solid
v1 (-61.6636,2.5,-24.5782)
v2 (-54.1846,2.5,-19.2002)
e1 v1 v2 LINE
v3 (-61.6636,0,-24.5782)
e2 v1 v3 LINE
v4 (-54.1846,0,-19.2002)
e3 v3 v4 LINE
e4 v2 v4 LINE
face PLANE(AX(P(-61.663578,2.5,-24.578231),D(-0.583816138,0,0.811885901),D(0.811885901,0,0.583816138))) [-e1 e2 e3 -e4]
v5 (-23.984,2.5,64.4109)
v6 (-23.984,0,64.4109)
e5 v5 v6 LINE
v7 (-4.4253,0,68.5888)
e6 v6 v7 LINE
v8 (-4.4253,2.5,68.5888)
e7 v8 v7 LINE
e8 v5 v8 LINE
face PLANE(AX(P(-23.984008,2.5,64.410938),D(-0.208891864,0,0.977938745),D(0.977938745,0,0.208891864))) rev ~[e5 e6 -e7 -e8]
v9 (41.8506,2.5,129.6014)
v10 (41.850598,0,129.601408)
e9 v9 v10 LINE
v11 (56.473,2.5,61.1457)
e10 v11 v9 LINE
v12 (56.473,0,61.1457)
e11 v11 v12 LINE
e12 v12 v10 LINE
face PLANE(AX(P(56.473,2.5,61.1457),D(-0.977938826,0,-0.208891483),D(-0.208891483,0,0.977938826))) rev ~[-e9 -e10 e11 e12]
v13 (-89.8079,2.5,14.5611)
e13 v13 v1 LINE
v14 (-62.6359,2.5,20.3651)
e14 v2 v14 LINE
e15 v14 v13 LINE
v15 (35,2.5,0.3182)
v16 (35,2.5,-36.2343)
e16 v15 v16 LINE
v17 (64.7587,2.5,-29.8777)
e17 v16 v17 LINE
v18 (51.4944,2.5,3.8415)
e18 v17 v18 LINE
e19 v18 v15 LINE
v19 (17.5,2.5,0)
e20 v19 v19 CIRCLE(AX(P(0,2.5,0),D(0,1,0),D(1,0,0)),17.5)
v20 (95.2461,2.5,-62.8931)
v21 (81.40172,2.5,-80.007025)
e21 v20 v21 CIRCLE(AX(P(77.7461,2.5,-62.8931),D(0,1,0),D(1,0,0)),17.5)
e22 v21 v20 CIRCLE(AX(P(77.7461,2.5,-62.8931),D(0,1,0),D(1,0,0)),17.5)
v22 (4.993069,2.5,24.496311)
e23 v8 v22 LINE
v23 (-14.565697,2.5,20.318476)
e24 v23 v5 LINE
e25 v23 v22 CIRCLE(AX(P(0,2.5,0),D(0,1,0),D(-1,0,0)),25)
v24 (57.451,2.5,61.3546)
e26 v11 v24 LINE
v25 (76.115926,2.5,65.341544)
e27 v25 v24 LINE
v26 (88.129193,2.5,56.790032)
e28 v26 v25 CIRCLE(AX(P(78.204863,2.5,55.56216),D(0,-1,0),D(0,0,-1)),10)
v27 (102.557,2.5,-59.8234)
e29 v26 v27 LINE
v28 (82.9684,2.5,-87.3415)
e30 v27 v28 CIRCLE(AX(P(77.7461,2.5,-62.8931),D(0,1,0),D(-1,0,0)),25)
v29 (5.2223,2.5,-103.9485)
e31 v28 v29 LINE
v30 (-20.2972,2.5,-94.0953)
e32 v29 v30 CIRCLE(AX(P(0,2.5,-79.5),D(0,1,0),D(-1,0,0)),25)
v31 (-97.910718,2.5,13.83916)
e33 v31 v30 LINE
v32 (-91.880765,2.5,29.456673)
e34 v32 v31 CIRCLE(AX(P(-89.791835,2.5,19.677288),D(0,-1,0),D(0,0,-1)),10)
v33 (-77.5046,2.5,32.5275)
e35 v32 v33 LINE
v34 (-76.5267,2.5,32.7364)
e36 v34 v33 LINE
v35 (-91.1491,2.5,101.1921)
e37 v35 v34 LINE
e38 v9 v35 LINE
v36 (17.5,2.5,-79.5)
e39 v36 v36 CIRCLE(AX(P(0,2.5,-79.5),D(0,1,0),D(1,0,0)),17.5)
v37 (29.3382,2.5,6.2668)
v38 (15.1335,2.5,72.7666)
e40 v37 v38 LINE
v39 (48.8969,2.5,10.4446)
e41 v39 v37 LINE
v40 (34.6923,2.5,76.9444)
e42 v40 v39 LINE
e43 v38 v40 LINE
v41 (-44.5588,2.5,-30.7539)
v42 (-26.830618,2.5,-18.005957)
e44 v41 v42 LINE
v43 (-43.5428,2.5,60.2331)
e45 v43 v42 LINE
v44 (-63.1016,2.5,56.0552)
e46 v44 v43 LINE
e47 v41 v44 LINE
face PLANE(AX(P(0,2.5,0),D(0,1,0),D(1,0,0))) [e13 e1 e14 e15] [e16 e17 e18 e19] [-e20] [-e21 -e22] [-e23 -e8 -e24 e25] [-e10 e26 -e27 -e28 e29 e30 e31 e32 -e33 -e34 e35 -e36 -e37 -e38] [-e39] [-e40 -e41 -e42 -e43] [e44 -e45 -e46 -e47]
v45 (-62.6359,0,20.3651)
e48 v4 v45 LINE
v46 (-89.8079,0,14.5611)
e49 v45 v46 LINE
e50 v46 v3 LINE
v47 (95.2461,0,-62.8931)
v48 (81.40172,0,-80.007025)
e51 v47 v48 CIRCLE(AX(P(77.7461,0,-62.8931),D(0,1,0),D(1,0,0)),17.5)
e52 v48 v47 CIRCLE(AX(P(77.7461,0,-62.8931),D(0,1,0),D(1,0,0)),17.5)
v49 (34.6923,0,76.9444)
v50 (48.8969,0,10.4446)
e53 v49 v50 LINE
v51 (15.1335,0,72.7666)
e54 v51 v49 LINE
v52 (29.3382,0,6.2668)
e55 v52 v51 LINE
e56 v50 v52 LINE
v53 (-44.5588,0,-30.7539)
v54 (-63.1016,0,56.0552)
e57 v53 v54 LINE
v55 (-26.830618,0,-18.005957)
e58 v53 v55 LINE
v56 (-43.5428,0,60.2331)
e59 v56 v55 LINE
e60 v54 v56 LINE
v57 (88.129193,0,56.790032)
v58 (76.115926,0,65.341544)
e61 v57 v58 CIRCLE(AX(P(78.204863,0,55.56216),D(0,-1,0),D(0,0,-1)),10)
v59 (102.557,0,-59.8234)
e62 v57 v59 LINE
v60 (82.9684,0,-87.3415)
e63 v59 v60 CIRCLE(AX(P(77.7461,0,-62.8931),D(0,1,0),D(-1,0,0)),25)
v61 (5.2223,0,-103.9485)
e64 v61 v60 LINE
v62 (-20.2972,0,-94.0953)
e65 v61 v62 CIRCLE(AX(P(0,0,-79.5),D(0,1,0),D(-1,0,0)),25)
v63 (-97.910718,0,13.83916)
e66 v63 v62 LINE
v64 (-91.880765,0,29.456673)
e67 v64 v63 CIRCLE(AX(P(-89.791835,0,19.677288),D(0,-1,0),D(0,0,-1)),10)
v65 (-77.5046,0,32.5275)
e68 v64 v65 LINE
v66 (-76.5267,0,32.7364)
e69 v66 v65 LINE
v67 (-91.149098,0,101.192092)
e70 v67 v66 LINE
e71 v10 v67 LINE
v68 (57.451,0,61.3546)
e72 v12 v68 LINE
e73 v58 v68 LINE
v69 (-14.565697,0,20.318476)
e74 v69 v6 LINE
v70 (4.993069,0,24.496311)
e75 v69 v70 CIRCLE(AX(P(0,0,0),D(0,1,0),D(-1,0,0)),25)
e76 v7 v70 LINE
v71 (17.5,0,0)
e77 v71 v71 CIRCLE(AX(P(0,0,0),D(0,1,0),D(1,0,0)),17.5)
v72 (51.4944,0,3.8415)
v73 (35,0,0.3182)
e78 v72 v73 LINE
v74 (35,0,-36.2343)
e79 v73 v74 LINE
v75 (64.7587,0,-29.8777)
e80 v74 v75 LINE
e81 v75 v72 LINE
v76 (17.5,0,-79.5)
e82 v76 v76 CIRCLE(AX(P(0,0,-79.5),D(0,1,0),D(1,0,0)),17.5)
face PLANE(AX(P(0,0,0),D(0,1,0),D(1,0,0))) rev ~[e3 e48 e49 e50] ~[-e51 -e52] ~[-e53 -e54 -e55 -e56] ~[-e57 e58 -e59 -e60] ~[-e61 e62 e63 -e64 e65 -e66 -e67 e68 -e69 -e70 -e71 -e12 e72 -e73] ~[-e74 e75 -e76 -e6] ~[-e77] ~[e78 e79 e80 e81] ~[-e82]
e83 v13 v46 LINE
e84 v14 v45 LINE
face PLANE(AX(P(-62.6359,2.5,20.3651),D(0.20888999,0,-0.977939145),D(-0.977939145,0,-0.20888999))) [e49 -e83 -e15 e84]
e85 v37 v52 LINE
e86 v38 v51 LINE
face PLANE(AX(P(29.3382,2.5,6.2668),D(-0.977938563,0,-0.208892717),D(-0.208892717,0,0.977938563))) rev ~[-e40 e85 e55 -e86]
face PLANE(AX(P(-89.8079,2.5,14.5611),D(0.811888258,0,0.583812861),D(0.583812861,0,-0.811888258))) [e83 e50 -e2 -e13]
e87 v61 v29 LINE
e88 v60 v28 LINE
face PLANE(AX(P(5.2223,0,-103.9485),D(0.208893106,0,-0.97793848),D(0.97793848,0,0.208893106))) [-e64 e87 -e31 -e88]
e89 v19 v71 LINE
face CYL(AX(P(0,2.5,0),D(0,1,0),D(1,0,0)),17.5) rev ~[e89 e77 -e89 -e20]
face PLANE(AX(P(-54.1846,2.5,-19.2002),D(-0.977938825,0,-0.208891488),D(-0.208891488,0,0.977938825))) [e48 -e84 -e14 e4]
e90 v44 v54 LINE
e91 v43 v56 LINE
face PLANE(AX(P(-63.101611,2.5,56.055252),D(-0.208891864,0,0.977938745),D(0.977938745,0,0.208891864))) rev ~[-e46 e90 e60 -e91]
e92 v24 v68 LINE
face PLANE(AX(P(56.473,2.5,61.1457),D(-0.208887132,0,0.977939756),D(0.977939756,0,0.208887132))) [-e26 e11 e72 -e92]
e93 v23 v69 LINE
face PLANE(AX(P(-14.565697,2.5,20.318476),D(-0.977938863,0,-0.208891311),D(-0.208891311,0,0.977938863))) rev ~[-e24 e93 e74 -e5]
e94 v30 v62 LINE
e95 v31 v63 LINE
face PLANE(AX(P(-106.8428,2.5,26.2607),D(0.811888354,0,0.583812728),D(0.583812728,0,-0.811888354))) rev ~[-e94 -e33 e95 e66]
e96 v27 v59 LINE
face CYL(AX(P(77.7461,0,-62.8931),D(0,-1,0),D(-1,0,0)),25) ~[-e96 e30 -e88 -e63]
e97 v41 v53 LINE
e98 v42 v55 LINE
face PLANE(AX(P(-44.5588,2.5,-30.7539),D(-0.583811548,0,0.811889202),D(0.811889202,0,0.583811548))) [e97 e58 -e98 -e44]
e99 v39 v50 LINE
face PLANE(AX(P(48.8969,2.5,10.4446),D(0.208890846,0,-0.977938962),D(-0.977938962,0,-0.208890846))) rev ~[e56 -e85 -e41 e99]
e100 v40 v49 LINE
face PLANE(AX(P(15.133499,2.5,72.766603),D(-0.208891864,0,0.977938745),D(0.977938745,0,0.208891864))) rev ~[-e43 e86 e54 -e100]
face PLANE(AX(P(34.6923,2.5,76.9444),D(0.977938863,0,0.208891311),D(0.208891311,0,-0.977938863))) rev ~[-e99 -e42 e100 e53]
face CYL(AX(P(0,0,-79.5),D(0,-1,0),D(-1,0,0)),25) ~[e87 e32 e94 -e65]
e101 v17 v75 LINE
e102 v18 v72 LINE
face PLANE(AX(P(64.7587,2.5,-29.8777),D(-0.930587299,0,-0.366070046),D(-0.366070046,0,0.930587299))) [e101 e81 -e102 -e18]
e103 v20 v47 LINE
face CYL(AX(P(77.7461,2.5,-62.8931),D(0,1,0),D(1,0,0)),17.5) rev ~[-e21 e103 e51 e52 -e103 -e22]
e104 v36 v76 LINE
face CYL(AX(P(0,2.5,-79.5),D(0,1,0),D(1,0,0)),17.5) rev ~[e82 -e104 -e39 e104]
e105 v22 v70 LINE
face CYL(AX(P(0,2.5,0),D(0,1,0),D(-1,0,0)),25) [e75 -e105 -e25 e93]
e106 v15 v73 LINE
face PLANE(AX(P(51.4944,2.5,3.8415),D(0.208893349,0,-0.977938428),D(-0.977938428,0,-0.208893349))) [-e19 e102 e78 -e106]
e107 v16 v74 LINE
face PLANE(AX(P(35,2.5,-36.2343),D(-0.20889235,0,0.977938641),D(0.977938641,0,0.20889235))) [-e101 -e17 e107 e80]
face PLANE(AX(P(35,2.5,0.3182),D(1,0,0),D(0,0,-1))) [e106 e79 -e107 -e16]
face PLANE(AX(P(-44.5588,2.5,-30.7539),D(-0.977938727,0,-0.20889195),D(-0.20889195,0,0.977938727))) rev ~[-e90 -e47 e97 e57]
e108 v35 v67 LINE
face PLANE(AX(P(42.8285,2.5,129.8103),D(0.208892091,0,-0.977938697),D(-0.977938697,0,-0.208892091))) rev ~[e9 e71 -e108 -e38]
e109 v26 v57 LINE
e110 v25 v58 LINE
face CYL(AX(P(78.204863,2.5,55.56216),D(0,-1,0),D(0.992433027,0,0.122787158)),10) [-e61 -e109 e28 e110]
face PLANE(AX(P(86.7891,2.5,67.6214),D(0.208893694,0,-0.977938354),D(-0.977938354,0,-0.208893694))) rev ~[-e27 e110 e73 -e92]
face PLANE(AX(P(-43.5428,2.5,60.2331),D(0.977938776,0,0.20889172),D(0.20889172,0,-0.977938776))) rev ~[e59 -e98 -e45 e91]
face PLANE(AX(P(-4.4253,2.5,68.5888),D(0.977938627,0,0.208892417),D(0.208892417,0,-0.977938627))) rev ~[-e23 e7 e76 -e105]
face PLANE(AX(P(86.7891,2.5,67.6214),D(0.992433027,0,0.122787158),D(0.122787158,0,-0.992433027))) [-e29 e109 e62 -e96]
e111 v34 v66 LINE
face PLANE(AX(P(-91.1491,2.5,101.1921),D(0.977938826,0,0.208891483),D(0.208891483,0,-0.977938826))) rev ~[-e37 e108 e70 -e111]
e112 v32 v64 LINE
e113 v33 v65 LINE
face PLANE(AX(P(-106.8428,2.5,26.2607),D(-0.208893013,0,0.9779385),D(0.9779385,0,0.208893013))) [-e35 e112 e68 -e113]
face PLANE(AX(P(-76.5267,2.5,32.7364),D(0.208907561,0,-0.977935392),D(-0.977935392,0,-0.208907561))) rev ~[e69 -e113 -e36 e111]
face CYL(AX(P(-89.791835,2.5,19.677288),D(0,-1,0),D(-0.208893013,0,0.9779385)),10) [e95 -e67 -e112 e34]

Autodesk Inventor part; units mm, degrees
ref_plane "YZ Plane" through (0, 0, 0) normal (1, 0, 0) x (0, 1, 0)
ref_plane "XZ Plane" through (0, 0, 0) normal (0, 1, 0) x (-1, 0, 0)
ref_plane "XY Plane" through (0, 0, 0) normal (0, 0, 1) x (1, 0, 0)
sketch "スケッチ1" plane through (0, 0, 0) normal (0, 1, 0) x (-1, 0, 0)
  line L0 (25, 0) -> (-25, 0)
  line L1 (-25, 0) -> (-25, -104.5)
  line L2 (-25, -104.5) -> (25, -104.5) construction
  line L3 (25, -104.5) -> (25, 0)
  circle A0 centre (0, 0) radius 25
  circle A1 centre (0, 0) radius 57 construction
  circle A2 centre (0, -79.5) radius 22.5 construction
  circle A3 centre (0, 0) radius 75 construction
  circle A4 centre (0, -79.5) radius 10.75
  circle A5 centre (0, 0) radius 10.75
  circle A6 centre (-77.7461, -62.8931) radius 25
  circle A7 centre (-77.7461, -62.8931) radius 10.75
  circle A8 centre (0, -79.5) radius 25
  line L4 (-5.2223, -103.9485) -> (-82.9684, -87.3415)
  line L5 (-72.5238, -38.4446) -> (5.2223, -55.0515)
  line L6 (-77.7461, -62.8931) -> (-82.9684, -87.3415)
  point P0 (25, -79.5)
  point P1 (-25, -48.5959)
  dimension "d0" = 114
  dimension "d1" = 45
  dimension "d2" = 150
  dimension "d4" = 21.5
  dimension "d5" = 50
  dimension "d25" = 79.5
extrude "押し出し1" add sketch "スケッチ1" along normal blind 2.5 contours A0 L0 A5 | L0 A5 A0 | L3 A8 L5 L1 A0 | A8 | A8 L1 L5 | L4 L1 A8 | L1 L4 A6 L5 | A6
sketch "スケッチ4" plane through (0, 2.5, 0) normal (0, 1, 0) x (1, 0, 0)
  line L0 (-1, 90.2034) -> (1, 90.2034)
  line L1 (1, 90.2034) -> (1, 96.5)
  line L2 (1, 96.5) -> (-1, 96.5)
  line L3 (-1, 96.5) -> (-1, 90.2034)
  arc A0 (-25, 0) -> (25, 0) centre (0, 0) ccw projected
  line L4 (25, 0) -> (25, 48.5959) projected
  line L5 (25, 48.5959) -> (72.5238, 38.4446) projected
  arc A1 (72.5238, 38.4446) -> (82.9684, 87.3415) centre (77.7461, 62.8931) ccw projected
  line L6 (82.9684, 87.3415) -> (5.2223, 103.9485) projected
  arc A2 (5.2223, 103.9485) -> (-25, 79.5) centre (0, 79.5) ccw projected
  line L7 (-25, 79.5) -> (-25, 0) projected
  circle A3 centre (0, 0) radius 10.75 projected
  circle A4 centre (77.7461, 62.8931) radius 10.75 projected
  circle A5 centre (0, 79.5) radius 10.75 projected
  circle A6 centre (0, 79.5) radius 10.75 projected
  line L8 (-16.9706, -1) -> (16.9706, -1)
  line L9 (16.9706, -1) -> (16.9706, 1)
  line L10 (16.9706, 1) -> (-16.9706, 1)
  line L11 (-16.9706, 1) -> (-16.9706, -1)
  line L12 (-1, -16.9706) -> (1, -16.9706)
  line L13 (1, -16.9706) -> (1, 16.9706)
  line L14 (1, 16.9706) -> (-1, 16.9706)
  line L15 (-1, 16.9706) -> (-1, -16.9706)
  circle A7 centre (0, 0) radius 17
  point P0 (0, 96.5)
  point P1 (-16.9706, 0)
  point P2 (0, 16.9706)
  point P3 (-1, -10.7034)
  point P4 (1, -10.7034)
  point P5 (10.7034, 1)
  point P6 (10.7034, -1)
  point P7 (-1, 10.7034)
  point P8 (1, 10.7034)
  point P9 (-10.7034, -1)
  point P10 (-10.7034, 1)
  dimension "d26" = 17
  dimension "d27" = 2
  dimension "d30" = 34
extrude "押し出し4" cut sketch "スケッチ4" against normal through all contours A5 L0 | L3 L2 L1 A5 | A3 L10 L9 L8 | A3 L15 L14 L13 | L13 L12 L15 A3 | A3 L8 L11 L10 picked at (-0.1113, 90.2172)
sketch "スケッチ5" plane through (0, 2.5, 0) normal (0, 1, 0) x (1, 0, 0)
  circle A0 centre (0, 0) radius 17.5
  circle A1 centre (0, 79.5) radius 17.5
  circle A2 centre (77.7461, 62.8931) radius 17.5
  arc A3 (-1, 90.2034) -> (1, 90.2034) centre (0, 79.5) ccw projected
  circle A4 centre (77.7461, 62.8931) radius 10.75 projected
  dimension "d31" = 35
  dimension "d32" = 35
  dimension "d33" = 35
extrude "押し出し5" cut sketch "スケッチ5" against normal through all contours A0 | A1 | A2 | A4
sketch "スケッチ7" plane through (0, 2.5, 0) normal (0, 1, 0) x (1, 0, 0)
  line L0 (62.2228, 90.7503) -> (63.2008, 90.5415) projected
  line L1 (62.7118, 90.6459) -> (67.0985, 111.1826)
  line L2 (9.4001, 123.5072) -> (87.1463, 106.9003) projected
  circle A0 centre (50.445, 105.0256) radius 1.75
  circle A1 centre (21.1068, 111.2923) radius 1.75
  point P0 (0, 0)
  dimension "d39" = 9.5
  dimension "d40" = 3.5
  dimension "d41" = 15
  dimension "d42" = 45
  dimension "d43" = 9.5
extrude "押し出し7" cut sketch "スケッチ7" against normal through all
sketch "スケッチ8" plane through (0, 2.5, 0) normal (0, 1, 0) x (1, 0, 0)
  line L0 (15.7233, -19.4365) -> (93.4694, 43.4566)
  arc A0 (-25, 0) -> (25, 0) centre (0, 0) ccw projected
  arc A1 (72.5238, 38.4446) -> (82.9684, 87.3415) centre (77.7461, 62.8931) ccw projected
  line L1 (25, 0) -> (25, 42.4151) projected
  line L2 (25, 0) -> (25, 48.5959) projected
  line L3 (25, 48.5959) -> (72.5238, 38.4446) projected
extrude "押し出し8" add sketch "スケッチ8" against normal up to surface (2.5 mm away)
sketch "スケッチ11" plane through (0, 2.5, 0) normal (0, 1, 0) x (1, 0, 0)
  line L0 (57.451, -61.3546) -> (47.0063, -110.2515) projected
  line L1 (86.7891, -67.6214) -> (57.451, -61.3546) projected
  line L2 (57.5442, -204.5328) -> (86.7891, -67.6214) projected
  line L3 (42.8751, -201.3994) -> (57.5442, -204.5328) projected
  line L4 (58.542, -128.054) -> (42.8751, -201.3994) projected
  arc A0 (58.542, -128.054) -> (47.0063, -110.2515) centre (43.873, -124.9206) ccw projected
  arc A1 (-87.9492, -81.4244) -> (-105.7517, -92.9601) centre (-91.0826, -96.0935) ccw projected
  line L5 (-105.7517, -92.9601) -> (-121.4186, -166.3055) projected
  line L6 (-121.4186, -166.3055) -> (-136.0876, -163.1722) projected
  line L7 (-136.0876, -163.1722) -> (-106.8428, -26.2607) projected
  line L8 (-106.8428, -26.2607) -> (-77.5046, -32.5275) projected
  line L9 (-77.5046, -32.5275) -> (-87.9492, -81.4244) projected
  line L10 (-117.2874, -75.1577) -> (76.3445, -116.5183) projected
  line L11 (-111.0206, -45.8195) -> (-117.2874, -75.1577) projected
  line L12 (-81.6824, -52.0863) -> (-111.0206, -45.8195) projected
  line L13 (-84.8158, -66.7554) -> (-81.6824, -52.0863) projected
  line L14 (50.1397, -95.5825) -> (-84.8158, -66.7554) projected
  line L15 (53.2731, -80.9134) -> (50.1397, -95.5825) projected
  line L16 (82.6113, -87.1801) -> (53.2731, -80.9134) projected
  line L17 (76.3445, -116.5183) -> (82.6113, -87.1801) projected
  line L18 (-99.6213, -36.495) -> (-103.0441, -35.7639) projected
  line L19 (-103.0441, -35.7639) -> (-103.6708, -38.6977) projected
  line L20 (-103.6708, -38.6977) -> (-100.248, -39.4288) projected
  line L21 (-100.248, -39.4288) -> (-100.9791, -42.8516) projected
  line L22 (-100.9791, -42.8516) -> (-98.0453, -43.4783) projected
  line L23 (-98.0453, -43.4783) -> (-97.3142, -40.0555) projected
  line L24 (-97.3142, -40.0555) -> (-93.8914, -40.7866) projected
  line L25 (-93.8914, -40.7866) -> (-93.2647, -37.8528) projected
  line L26 (-93.2647, -37.8528) -> (-96.6875, -37.1217) projected
  line L27 (-96.6875, -37.1217) -> (-95.9564, -33.6989) projected
  line L28 (-95.9564, -33.6989) -> (-98.8902, -33.0722) projected
  line L29 (-98.8902, -33.0722) -> (-99.6213, -36.495) projected
  line L30 (69.0332, -75.5881) -> (72.456, -76.3192) projected
  line L31 (72.456, -76.3192) -> (71.7249, -79.742) projected
  line L32 (71.7249, -79.742) -> (74.6587, -80.3686) projected
  line L33 (74.6587, -80.3686) -> (75.3898, -76.9459) projected
  line L34 (75.3898, -76.9459) -> (78.8126, -77.677) projected
  line L35 (78.8126, -77.677) -> (79.4393, -74.7432) projected
  line L36 (79.4393, -74.7432) -> (76.0165, -74.012) projected
  line L37 (76.0165, -74.012) -> (76.7476, -70.5893) projected
  line L38 (76.7476, -70.5893) -> (73.8138, -69.9626) projected
  line L39 (73.8138, -69.9626) -> (73.0827, -73.3854) projected
  line L40 (73.0827, -73.3854) -> (69.6599, -72.6542) projected
  line L41 (69.6599, -72.6542) -> (69.0332, -75.5881) projected
  line L42 (-106.8428, -26.2607) -> (-111.0206, -45.8195) projected
  line L43 (86.7891, -67.6214) -> (-106.8428, -26.2607) projected
  line L44 (82.6113, -87.1801) -> (86.7891, -67.6214) projected
  line L45 (-111.0206, -45.8195) -> (82.6113, -87.1801) projected
  line L46 (86.7891, -67.6214) -> (102.557, 59.8234)
  arc A2 (93.4694, 43.4566) -> (82.9684, 87.3415) centre (77.7461, 62.8931) ccw projected
  line L47 (-106.8428, -26.2607) -> (-20.2972, 94.0953)
  arc A3 (5.2223, 103.9485) -> (-25, 79.5) centre (0, 79.5) ccw projected
  line L48 (-87.9492, -81.4244) -> (47.0063, -110.2515)
  line L49 (47.0063, -110.2515) -> (42.8285, -129.8103)
  line L50 (42.8285, -129.8103) -> (-92.127, -100.9832)
  line L51 (-92.127, -100.9832) -> (-87.9492, -81.4244)
  circle A4 centre (0, 0) radius 17.5 projected
  circle A5 centre (0, 79.5) radius 17.5 projected
  circle A6 centre (77.7461, 62.8931) radius 17.5 projected
  arc A7 (-25, 0) -> (15.7233, -19.4365) centre (0, 0) ccw projected
  line L52 (-25, 79.5) -> (-25, 0) projected
  arc A8 (5.2223, 103.9485) -> (-25, 79.5) centre (0, 79.5) ccw projected
  line L53 (82.9684, 87.3415) -> (5.2223, 103.9485) projected
  arc A9 (93.4694, 43.4566) -> (82.9684, 87.3415) centre (77.7461, 62.8931) ccw projected
  line L54 (93.4694, 43.4566) -> (15.7233, -19.4365) projected
  point P0 (-25, 79.5)
  dimension "d60" = 20
extrude "押し出し11" add sketch "スケッチ11" against normal up to surface (2.5 mm away) contours L43 L8 L47 A3 L52 A7 L54 A2 L46 L1 | L0 L45 L9 L43 | L0 L14 L9 L45 | L0 L10 L9 L14 | L49 L50 L51 L10
sketch "スケッチ12" plane through (0, 2.5, 0) normal (0, 1, 0) x (1, 0, 0)
  circle A0 centre (0, 0) radius 17.5 projected
  circle A1 centre (0, 79.5) radius 17.5 projected
  circle A2 centre (77.7461, 62.8931) radius 17.5 projected
  line L0 (-20.2972, 94.0953) -> (-106.8428, -26.2607) projected
  line L1 (-106.8428, -26.2607) -> (-77.5046, -32.5275) projected
  line L2 (-77.5046, -32.5275) -> (-92.127, -100.9832) projected
  line L3 (-92.127, -100.9832) -> (42.8285, -129.8103) projected
  line L4 (42.8285, -129.8103) -> (57.451, -61.3546) projected
  line L5 (57.451, -61.3546) -> (86.7891, -67.6214) projected
  line L6 (86.7891, -67.6214) -> (102.557, 59.8234) projected
  arc A3 (102.557, 59.8234) -> (82.9684, 87.3415) centre (77.7461, 62.8931) ccw projected
  line L7 (82.9684, 87.3415) -> (5.2223, 103.9485) projected
  arc A4 (5.2223, 103.9485) -> (-20.2972, 94.0953) centre (0, 79.5) ccw projected
  line L8 (-91.1491, -101.1921) -> (-76.5267, -32.7364)
  line L9 (-76.5267, -32.7364) -> (56.473, -61.1457)
  line L10 (56.473, -61.1457) -> (41.8506, -129.6014)
  line L11 (41.8506, -129.6014) -> (-91.1491, -101.1921)
  line L12 (-92.127, -100.9832) -> (42.8285, -129.8103) projected
  line L13 (-76.5267, -32.7364) -> (-77.5046, -32.5275)
  line L14 (56.473, -61.1457) -> (57.451, -61.3546)
  point P0 (-43.3372, -30.9427)
  dimension "d63" = 1
  dimension "d64" = 1
extrude "押し出し12" cut sketch "スケッチ12" against normal through all contours A0 | L13 L8 L3 L2 | L14 L4 L3 L10
sketch "スケッチ13" plane through (0, 2.5, 0) normal (0, 1, 0) x (1, 0, 0)
  arc A0 (-25, 0) -> (25, 0) centre (0, 0) ccw projected
  line L0 (25, 0) -> (25, 42.4151) projected
  arc A1 (31.0445, 47.3048) -> (25, 42.4151) centre (30, 42.4151) ccw projected
  line L1 (31.0445, 47.3048) -> (72.5238, 38.4446) projected
  arc A2 (72.5238, 38.4446) -> (82.9684, 87.3415) centre (77.7461, 62.8931) ccw projected
  line L2 (82.9684, 87.3415) -> (5.2223, 103.9485) projected
  arc A3 (5.2223, 103.9485) -> (-25, 79.5) centre (0, 79.5) ccw projected
  line L3 (-25, 79.5) -> (-25, 0) projected
  line L4 (-1, 90.2034) -> (-1, 96.5) projected
  line L5 (-1, 96.5) -> (1, 96.5) projected
  line L6 (1, 96.5) -> (1, 90.2034) projected
  arc A4 (10.7034, 80.5) -> (1, 90.2034) centre (0, 79.5) ccw projected
  line L7 (10.7034, 80.5) -> (16.9706, 80.5) projected
  line L8 (16.9706, 80.5) -> (16.9706, 78.5) projected
  line L9 (16.9706, 78.5) -> (10.7034, 78.5) projected
  arc A5 (-10.7034, 78.5) -> (10.7034, 78.5) centre (0, 79.5) ccw projected
  line L10 (-10.7034, 78.5) -> (-16.9706, 78.5) projected
  line L11 (-16.9706, 78.5) -> (-16.9706, 80.5) projected
  line L12 (-16.9706, 80.5) -> (-10.7034, 80.5) projected
  arc A6 (-1, 90.2034) -> (-10.7034, 80.5) centre (0, 79.5) ccw projected
  line L13 (60.7756, 63.8931) -> (67.0427, 63.8931) projected
  arc A7 (76.7461, 73.5965) -> (67.0427, 63.8931) centre (77.7461, 62.8931) ccw projected
  line L14 (76.7461, 73.5965) -> (76.7461, 79.8636) projected
  line L15 (76.7461, 79.8636) -> (78.7461, 79.8636) projected
  line L16 (78.7461, 79.8636) -> (78.7461, 73.5965) projected
  arc A8 (88.4495, 63.8931) -> (78.7461, 73.5965) centre (77.7461, 62.8931) ccw projected
  line L17 (88.4495, 63.8931) -> (94.7167, 63.8931) projected
  line L18 (94.7167, 63.8931) -> (94.7167, 61.8931) projected
  line L19 (94.7167, 61.8931) -> (88.4495, 61.8931) projected
  arc A9 (78.7461, 52.1897) -> (88.4495, 61.8931) centre (77.7461, 62.8931) ccw projected
  line L20 (78.7461, 52.1897) -> (78.7461, 45.9225) projected
  line L21 (78.7461, 45.9225) -> (76.7461, 45.9225) projected
  line L22 (76.7461, 45.9225) -> (76.7461, 52.1897) projected
  arc A10 (67.0427, 61.8931) -> (76.7461, 52.1897) centre (77.7461, 62.8931) ccw projected
  line L23 (67.0427, 61.8931) -> (60.7756, 61.8931) projected
  line L24 (60.7756, 61.8931) -> (60.7756, 63.8931) projected
  line L25 (-16.9706, 1) -> (-10.7034, 1) projected
  arc A11 (-1, 10.7034) -> (-10.7034, 1) centre (0, 0) ccw projected
  line L26 (-1, 10.7034) -> (-1, 16.9706) projected
  line L27 (-1, 16.9706) -> (1, 16.9706) projected
  line L28 (1, 16.9706) -> (1, 10.7034) projected
  arc A12 (10.7034, 1) -> (1, 10.7034) centre (0, 0) ccw projected
  line L29 (10.7034, 1) -> (16.9706, 1) projected
  line L30 (16.9706, 1) -> (16.9706, -1) projected
  line L31 (16.9706, -1) -> (10.7034, -1) projected
  arc A13 (1, -10.7034) -> (10.7034, -1) centre (0, 0) ccw projected
  line L32 (1, -10.7034) -> (1, -16.9706) projected
  line L33 (1, -16.9706) -> (-1, -16.9706) projected
  line L34 (-1, -16.9706) -> (-1, -10.7034) projected
  arc A14 (-10.7034, -1) -> (-1, -10.7034) centre (0, 0) ccw projected
  line L35 (-10.7034, -1) -> (-16.9706, -1) projected
  line L36 (-16.9706, -1) -> (-16.9706, 1) projected
  point P0 (0, 0)
sketch "スケッチ14" plane through (0, 2.5, 0) normal (0, 1, 0) x (1, 0, 0)
  line L0 (-84.901, -43.2183) -> (-86.5721, -51.0418) construction
  line L1 (-86.5721, -51.0418) -> (58.1628, -81.9578) construction
  line L2 (58.1628, -81.9578) -> (59.8339, -74.1343) construction
  line L3 (59.8339, -74.1343) -> (-84.901, -43.2183) construction
  line L4 (50.1397, -95.5825) -> (-84.8158, -66.7554) construction
  line L5 (-83.8379, -66.9643) -> (-80.7045, -52.2952)
  line L6 (-80.7045, -52.2952) -> (52.2952, -80.7045)
  line L7 (52.2952, -80.7045) -> (49.1618, -95.3736)
  line L8 (49.1618, -95.3736) -> (-83.8379, -66.9643)
  line L9 (-76.5267, -32.7364) -> (-91.1491, -101.1921) projected
  line L10 (41.8506, -129.6014) -> (56.473, -61.1457) projected
  line L11 (-63.1016, -56.0552) -> (-43.5428, -60.2331)
  line L12 (-43.5428, -60.2331) -> (-25, 26.5761)
  line L13 (-25, 26.5761) -> (-44.5588, 30.7539)
  line L14 (-44.5588, 30.7539) -> (-63.1016, -56.0552)
  line L15 (-23.984, -64.4109) -> (-4.4253, -68.5888)
  line L16 (-4.4253, -68.5888) -> (9.7794, -2.0889)
  line L17 (9.7794, -2.0889) -> (-9.7794, 2.0889)
  line L18 (-9.7794, 2.0889) -> (-23.984, -64.4109)
  line L19 (15.1335, -72.7666) -> (34.6923, -76.9444)
  line L20 (34.6923, -76.9444) -> (48.8969, -10.4446)
  line L21 (48.8969, -10.4446) -> (29.3382, -6.2668)
  line L22 (29.3382, -6.2668) -> (15.1335, -72.7666)
  line L23 (-25, 79.5) -> (-25, 0) projected
  arc A0 (-25, 0) -> (25, 0) centre (0, 0) ccw projected
  line L24 (25, 0) -> (25, 42.4151) projected
  arc A1 (31.0445, 47.3048) -> (25, 42.4151) centre (30, 42.4151) ccw projected
  line L25 (31.0445, 47.3048) -> (72.5238, 38.4446) projected
  arc A2 (72.5238, 38.4446) -> (82.9684, 87.3415) centre (77.7461, 62.8931) ccw projected
  arc A3 (5.2223, 103.9485) -> (-25, 79.5) centre (0, 79.5) ccw projected
  line L26 (-44.5588, 30.7539) -> (-58.5897, 40.8432)
  line L27 (-20.2972, 94.0953) -> (-106.8428, -26.2607) projected
  line L28 (-44.5588, 30.7539) -> (-25, 16.6896)
  line L29 (-63.2874, 25.7459) -> (-54.1846, 19.2002)
  line L30 (-54.1846, 19.2002) -> (-62.6359, -20.3651)
  line L31 (-62.6359, -20.3651) -> (-89.8079, -14.5611)
  line L32 (-89.8079, -14.5611) -> (-61.6636, 24.5782)
  line L33 (-106.8428, -26.2607) -> (-76.5267, -32.7364) projected
  line L34 (35, -0.3182) -> (35, 36.2343)
  line L35 (64.7587, 29.8777) -> (51.4944, -3.8415)
  line L36 (51.4944, -3.8415) -> (35, -0.3182)
  line L37 (85.8337, -18.3345) -> (81.7662, -51.2101)
  line L38 (48.8491, -44.1788) -> (55.7425, -11.9068)
  line L39 (35, 36.2343) -> (64.7587, 29.8777)
  line L40 (86.7891, -67.6214) -> (102.557, 59.8234) projected
  line L41 (81.7662, -51.2101) -> (48.8491, -44.1788)
  line L42 (86.7891, -67.6214) -> (56.473, -61.1457) projected
  line L43 (55.7425, -11.9068) -> (85.8337, -18.3345)
  line L44 (58.4335, -5.3237) -> (72.4996, 30.4337)
  line L45 (72.4996, 30.4337) -> (92.0411, 31.8375)
  line L46 (92.0411, 31.8375) -> (86.6965, -11.3608)
  line L47 (86.6965, -11.3608) -> (58.4335, -5.3237)
  point P0 (0, 0)
  point P1 (-83.8379, -66.9643)
  point P2 (-14.2047, -66.4998)
  point P3 (0, 0)
  point P4 (4.9931, -24.4963)
  point P5 (-14.5657, -20.3185)
  point P6 (-26.8306, 18.006)
  dimension "d68" = 20
  dimension "d69" = 20
  dimension "d70" = 20
  dimension "d75" = 7
  dimension "d76" = 15
  dimension "d77" = 7
  dimension "d78" = 15
  dimension "d79" = 7
  dimension "d80" = 10
  dimension "d81" = 10
  dimension "d82" = 7
  dimension "d83" = 7
  dimension "d84" = 15
  dimension "d85" = 7
  dimension "d86" = 7
  dimension "d87" = 7
  dimension "d88" = 32
fillet "フィレット1" radius 10 2 edges at (86.7891, 1.25, 67.6214) (-106.8428, 1.25, 26.2607)
extrude "押し出し13" cut sketch "スケッチ14" against normal through all contours L14 L28 L12 L6 | L6 L22 L21 L20 | L18 A0 L16 L6 | L29 L30 L31 L32 | L34 L39 L35 L36
equation "\"d43\" = d39"
equation "\"d64\" = d63"
equation "\"d70\" = d69"
equation "\"d77\" = d75"
equation "\"d78\" = d76"
equation "\"d79\" = d75"
equation "\"d80\" = d81"
equation "\"d82\" = d77"
equation "\"d83\" = d75"
equation "\"d84\" = d78"
equation "\"d85\" = d83"
equation "\"d86\" = d83"
equation "\"d87\" = d83"
properties part number "gear_plate_base" material "木材 (カエデ材)"
